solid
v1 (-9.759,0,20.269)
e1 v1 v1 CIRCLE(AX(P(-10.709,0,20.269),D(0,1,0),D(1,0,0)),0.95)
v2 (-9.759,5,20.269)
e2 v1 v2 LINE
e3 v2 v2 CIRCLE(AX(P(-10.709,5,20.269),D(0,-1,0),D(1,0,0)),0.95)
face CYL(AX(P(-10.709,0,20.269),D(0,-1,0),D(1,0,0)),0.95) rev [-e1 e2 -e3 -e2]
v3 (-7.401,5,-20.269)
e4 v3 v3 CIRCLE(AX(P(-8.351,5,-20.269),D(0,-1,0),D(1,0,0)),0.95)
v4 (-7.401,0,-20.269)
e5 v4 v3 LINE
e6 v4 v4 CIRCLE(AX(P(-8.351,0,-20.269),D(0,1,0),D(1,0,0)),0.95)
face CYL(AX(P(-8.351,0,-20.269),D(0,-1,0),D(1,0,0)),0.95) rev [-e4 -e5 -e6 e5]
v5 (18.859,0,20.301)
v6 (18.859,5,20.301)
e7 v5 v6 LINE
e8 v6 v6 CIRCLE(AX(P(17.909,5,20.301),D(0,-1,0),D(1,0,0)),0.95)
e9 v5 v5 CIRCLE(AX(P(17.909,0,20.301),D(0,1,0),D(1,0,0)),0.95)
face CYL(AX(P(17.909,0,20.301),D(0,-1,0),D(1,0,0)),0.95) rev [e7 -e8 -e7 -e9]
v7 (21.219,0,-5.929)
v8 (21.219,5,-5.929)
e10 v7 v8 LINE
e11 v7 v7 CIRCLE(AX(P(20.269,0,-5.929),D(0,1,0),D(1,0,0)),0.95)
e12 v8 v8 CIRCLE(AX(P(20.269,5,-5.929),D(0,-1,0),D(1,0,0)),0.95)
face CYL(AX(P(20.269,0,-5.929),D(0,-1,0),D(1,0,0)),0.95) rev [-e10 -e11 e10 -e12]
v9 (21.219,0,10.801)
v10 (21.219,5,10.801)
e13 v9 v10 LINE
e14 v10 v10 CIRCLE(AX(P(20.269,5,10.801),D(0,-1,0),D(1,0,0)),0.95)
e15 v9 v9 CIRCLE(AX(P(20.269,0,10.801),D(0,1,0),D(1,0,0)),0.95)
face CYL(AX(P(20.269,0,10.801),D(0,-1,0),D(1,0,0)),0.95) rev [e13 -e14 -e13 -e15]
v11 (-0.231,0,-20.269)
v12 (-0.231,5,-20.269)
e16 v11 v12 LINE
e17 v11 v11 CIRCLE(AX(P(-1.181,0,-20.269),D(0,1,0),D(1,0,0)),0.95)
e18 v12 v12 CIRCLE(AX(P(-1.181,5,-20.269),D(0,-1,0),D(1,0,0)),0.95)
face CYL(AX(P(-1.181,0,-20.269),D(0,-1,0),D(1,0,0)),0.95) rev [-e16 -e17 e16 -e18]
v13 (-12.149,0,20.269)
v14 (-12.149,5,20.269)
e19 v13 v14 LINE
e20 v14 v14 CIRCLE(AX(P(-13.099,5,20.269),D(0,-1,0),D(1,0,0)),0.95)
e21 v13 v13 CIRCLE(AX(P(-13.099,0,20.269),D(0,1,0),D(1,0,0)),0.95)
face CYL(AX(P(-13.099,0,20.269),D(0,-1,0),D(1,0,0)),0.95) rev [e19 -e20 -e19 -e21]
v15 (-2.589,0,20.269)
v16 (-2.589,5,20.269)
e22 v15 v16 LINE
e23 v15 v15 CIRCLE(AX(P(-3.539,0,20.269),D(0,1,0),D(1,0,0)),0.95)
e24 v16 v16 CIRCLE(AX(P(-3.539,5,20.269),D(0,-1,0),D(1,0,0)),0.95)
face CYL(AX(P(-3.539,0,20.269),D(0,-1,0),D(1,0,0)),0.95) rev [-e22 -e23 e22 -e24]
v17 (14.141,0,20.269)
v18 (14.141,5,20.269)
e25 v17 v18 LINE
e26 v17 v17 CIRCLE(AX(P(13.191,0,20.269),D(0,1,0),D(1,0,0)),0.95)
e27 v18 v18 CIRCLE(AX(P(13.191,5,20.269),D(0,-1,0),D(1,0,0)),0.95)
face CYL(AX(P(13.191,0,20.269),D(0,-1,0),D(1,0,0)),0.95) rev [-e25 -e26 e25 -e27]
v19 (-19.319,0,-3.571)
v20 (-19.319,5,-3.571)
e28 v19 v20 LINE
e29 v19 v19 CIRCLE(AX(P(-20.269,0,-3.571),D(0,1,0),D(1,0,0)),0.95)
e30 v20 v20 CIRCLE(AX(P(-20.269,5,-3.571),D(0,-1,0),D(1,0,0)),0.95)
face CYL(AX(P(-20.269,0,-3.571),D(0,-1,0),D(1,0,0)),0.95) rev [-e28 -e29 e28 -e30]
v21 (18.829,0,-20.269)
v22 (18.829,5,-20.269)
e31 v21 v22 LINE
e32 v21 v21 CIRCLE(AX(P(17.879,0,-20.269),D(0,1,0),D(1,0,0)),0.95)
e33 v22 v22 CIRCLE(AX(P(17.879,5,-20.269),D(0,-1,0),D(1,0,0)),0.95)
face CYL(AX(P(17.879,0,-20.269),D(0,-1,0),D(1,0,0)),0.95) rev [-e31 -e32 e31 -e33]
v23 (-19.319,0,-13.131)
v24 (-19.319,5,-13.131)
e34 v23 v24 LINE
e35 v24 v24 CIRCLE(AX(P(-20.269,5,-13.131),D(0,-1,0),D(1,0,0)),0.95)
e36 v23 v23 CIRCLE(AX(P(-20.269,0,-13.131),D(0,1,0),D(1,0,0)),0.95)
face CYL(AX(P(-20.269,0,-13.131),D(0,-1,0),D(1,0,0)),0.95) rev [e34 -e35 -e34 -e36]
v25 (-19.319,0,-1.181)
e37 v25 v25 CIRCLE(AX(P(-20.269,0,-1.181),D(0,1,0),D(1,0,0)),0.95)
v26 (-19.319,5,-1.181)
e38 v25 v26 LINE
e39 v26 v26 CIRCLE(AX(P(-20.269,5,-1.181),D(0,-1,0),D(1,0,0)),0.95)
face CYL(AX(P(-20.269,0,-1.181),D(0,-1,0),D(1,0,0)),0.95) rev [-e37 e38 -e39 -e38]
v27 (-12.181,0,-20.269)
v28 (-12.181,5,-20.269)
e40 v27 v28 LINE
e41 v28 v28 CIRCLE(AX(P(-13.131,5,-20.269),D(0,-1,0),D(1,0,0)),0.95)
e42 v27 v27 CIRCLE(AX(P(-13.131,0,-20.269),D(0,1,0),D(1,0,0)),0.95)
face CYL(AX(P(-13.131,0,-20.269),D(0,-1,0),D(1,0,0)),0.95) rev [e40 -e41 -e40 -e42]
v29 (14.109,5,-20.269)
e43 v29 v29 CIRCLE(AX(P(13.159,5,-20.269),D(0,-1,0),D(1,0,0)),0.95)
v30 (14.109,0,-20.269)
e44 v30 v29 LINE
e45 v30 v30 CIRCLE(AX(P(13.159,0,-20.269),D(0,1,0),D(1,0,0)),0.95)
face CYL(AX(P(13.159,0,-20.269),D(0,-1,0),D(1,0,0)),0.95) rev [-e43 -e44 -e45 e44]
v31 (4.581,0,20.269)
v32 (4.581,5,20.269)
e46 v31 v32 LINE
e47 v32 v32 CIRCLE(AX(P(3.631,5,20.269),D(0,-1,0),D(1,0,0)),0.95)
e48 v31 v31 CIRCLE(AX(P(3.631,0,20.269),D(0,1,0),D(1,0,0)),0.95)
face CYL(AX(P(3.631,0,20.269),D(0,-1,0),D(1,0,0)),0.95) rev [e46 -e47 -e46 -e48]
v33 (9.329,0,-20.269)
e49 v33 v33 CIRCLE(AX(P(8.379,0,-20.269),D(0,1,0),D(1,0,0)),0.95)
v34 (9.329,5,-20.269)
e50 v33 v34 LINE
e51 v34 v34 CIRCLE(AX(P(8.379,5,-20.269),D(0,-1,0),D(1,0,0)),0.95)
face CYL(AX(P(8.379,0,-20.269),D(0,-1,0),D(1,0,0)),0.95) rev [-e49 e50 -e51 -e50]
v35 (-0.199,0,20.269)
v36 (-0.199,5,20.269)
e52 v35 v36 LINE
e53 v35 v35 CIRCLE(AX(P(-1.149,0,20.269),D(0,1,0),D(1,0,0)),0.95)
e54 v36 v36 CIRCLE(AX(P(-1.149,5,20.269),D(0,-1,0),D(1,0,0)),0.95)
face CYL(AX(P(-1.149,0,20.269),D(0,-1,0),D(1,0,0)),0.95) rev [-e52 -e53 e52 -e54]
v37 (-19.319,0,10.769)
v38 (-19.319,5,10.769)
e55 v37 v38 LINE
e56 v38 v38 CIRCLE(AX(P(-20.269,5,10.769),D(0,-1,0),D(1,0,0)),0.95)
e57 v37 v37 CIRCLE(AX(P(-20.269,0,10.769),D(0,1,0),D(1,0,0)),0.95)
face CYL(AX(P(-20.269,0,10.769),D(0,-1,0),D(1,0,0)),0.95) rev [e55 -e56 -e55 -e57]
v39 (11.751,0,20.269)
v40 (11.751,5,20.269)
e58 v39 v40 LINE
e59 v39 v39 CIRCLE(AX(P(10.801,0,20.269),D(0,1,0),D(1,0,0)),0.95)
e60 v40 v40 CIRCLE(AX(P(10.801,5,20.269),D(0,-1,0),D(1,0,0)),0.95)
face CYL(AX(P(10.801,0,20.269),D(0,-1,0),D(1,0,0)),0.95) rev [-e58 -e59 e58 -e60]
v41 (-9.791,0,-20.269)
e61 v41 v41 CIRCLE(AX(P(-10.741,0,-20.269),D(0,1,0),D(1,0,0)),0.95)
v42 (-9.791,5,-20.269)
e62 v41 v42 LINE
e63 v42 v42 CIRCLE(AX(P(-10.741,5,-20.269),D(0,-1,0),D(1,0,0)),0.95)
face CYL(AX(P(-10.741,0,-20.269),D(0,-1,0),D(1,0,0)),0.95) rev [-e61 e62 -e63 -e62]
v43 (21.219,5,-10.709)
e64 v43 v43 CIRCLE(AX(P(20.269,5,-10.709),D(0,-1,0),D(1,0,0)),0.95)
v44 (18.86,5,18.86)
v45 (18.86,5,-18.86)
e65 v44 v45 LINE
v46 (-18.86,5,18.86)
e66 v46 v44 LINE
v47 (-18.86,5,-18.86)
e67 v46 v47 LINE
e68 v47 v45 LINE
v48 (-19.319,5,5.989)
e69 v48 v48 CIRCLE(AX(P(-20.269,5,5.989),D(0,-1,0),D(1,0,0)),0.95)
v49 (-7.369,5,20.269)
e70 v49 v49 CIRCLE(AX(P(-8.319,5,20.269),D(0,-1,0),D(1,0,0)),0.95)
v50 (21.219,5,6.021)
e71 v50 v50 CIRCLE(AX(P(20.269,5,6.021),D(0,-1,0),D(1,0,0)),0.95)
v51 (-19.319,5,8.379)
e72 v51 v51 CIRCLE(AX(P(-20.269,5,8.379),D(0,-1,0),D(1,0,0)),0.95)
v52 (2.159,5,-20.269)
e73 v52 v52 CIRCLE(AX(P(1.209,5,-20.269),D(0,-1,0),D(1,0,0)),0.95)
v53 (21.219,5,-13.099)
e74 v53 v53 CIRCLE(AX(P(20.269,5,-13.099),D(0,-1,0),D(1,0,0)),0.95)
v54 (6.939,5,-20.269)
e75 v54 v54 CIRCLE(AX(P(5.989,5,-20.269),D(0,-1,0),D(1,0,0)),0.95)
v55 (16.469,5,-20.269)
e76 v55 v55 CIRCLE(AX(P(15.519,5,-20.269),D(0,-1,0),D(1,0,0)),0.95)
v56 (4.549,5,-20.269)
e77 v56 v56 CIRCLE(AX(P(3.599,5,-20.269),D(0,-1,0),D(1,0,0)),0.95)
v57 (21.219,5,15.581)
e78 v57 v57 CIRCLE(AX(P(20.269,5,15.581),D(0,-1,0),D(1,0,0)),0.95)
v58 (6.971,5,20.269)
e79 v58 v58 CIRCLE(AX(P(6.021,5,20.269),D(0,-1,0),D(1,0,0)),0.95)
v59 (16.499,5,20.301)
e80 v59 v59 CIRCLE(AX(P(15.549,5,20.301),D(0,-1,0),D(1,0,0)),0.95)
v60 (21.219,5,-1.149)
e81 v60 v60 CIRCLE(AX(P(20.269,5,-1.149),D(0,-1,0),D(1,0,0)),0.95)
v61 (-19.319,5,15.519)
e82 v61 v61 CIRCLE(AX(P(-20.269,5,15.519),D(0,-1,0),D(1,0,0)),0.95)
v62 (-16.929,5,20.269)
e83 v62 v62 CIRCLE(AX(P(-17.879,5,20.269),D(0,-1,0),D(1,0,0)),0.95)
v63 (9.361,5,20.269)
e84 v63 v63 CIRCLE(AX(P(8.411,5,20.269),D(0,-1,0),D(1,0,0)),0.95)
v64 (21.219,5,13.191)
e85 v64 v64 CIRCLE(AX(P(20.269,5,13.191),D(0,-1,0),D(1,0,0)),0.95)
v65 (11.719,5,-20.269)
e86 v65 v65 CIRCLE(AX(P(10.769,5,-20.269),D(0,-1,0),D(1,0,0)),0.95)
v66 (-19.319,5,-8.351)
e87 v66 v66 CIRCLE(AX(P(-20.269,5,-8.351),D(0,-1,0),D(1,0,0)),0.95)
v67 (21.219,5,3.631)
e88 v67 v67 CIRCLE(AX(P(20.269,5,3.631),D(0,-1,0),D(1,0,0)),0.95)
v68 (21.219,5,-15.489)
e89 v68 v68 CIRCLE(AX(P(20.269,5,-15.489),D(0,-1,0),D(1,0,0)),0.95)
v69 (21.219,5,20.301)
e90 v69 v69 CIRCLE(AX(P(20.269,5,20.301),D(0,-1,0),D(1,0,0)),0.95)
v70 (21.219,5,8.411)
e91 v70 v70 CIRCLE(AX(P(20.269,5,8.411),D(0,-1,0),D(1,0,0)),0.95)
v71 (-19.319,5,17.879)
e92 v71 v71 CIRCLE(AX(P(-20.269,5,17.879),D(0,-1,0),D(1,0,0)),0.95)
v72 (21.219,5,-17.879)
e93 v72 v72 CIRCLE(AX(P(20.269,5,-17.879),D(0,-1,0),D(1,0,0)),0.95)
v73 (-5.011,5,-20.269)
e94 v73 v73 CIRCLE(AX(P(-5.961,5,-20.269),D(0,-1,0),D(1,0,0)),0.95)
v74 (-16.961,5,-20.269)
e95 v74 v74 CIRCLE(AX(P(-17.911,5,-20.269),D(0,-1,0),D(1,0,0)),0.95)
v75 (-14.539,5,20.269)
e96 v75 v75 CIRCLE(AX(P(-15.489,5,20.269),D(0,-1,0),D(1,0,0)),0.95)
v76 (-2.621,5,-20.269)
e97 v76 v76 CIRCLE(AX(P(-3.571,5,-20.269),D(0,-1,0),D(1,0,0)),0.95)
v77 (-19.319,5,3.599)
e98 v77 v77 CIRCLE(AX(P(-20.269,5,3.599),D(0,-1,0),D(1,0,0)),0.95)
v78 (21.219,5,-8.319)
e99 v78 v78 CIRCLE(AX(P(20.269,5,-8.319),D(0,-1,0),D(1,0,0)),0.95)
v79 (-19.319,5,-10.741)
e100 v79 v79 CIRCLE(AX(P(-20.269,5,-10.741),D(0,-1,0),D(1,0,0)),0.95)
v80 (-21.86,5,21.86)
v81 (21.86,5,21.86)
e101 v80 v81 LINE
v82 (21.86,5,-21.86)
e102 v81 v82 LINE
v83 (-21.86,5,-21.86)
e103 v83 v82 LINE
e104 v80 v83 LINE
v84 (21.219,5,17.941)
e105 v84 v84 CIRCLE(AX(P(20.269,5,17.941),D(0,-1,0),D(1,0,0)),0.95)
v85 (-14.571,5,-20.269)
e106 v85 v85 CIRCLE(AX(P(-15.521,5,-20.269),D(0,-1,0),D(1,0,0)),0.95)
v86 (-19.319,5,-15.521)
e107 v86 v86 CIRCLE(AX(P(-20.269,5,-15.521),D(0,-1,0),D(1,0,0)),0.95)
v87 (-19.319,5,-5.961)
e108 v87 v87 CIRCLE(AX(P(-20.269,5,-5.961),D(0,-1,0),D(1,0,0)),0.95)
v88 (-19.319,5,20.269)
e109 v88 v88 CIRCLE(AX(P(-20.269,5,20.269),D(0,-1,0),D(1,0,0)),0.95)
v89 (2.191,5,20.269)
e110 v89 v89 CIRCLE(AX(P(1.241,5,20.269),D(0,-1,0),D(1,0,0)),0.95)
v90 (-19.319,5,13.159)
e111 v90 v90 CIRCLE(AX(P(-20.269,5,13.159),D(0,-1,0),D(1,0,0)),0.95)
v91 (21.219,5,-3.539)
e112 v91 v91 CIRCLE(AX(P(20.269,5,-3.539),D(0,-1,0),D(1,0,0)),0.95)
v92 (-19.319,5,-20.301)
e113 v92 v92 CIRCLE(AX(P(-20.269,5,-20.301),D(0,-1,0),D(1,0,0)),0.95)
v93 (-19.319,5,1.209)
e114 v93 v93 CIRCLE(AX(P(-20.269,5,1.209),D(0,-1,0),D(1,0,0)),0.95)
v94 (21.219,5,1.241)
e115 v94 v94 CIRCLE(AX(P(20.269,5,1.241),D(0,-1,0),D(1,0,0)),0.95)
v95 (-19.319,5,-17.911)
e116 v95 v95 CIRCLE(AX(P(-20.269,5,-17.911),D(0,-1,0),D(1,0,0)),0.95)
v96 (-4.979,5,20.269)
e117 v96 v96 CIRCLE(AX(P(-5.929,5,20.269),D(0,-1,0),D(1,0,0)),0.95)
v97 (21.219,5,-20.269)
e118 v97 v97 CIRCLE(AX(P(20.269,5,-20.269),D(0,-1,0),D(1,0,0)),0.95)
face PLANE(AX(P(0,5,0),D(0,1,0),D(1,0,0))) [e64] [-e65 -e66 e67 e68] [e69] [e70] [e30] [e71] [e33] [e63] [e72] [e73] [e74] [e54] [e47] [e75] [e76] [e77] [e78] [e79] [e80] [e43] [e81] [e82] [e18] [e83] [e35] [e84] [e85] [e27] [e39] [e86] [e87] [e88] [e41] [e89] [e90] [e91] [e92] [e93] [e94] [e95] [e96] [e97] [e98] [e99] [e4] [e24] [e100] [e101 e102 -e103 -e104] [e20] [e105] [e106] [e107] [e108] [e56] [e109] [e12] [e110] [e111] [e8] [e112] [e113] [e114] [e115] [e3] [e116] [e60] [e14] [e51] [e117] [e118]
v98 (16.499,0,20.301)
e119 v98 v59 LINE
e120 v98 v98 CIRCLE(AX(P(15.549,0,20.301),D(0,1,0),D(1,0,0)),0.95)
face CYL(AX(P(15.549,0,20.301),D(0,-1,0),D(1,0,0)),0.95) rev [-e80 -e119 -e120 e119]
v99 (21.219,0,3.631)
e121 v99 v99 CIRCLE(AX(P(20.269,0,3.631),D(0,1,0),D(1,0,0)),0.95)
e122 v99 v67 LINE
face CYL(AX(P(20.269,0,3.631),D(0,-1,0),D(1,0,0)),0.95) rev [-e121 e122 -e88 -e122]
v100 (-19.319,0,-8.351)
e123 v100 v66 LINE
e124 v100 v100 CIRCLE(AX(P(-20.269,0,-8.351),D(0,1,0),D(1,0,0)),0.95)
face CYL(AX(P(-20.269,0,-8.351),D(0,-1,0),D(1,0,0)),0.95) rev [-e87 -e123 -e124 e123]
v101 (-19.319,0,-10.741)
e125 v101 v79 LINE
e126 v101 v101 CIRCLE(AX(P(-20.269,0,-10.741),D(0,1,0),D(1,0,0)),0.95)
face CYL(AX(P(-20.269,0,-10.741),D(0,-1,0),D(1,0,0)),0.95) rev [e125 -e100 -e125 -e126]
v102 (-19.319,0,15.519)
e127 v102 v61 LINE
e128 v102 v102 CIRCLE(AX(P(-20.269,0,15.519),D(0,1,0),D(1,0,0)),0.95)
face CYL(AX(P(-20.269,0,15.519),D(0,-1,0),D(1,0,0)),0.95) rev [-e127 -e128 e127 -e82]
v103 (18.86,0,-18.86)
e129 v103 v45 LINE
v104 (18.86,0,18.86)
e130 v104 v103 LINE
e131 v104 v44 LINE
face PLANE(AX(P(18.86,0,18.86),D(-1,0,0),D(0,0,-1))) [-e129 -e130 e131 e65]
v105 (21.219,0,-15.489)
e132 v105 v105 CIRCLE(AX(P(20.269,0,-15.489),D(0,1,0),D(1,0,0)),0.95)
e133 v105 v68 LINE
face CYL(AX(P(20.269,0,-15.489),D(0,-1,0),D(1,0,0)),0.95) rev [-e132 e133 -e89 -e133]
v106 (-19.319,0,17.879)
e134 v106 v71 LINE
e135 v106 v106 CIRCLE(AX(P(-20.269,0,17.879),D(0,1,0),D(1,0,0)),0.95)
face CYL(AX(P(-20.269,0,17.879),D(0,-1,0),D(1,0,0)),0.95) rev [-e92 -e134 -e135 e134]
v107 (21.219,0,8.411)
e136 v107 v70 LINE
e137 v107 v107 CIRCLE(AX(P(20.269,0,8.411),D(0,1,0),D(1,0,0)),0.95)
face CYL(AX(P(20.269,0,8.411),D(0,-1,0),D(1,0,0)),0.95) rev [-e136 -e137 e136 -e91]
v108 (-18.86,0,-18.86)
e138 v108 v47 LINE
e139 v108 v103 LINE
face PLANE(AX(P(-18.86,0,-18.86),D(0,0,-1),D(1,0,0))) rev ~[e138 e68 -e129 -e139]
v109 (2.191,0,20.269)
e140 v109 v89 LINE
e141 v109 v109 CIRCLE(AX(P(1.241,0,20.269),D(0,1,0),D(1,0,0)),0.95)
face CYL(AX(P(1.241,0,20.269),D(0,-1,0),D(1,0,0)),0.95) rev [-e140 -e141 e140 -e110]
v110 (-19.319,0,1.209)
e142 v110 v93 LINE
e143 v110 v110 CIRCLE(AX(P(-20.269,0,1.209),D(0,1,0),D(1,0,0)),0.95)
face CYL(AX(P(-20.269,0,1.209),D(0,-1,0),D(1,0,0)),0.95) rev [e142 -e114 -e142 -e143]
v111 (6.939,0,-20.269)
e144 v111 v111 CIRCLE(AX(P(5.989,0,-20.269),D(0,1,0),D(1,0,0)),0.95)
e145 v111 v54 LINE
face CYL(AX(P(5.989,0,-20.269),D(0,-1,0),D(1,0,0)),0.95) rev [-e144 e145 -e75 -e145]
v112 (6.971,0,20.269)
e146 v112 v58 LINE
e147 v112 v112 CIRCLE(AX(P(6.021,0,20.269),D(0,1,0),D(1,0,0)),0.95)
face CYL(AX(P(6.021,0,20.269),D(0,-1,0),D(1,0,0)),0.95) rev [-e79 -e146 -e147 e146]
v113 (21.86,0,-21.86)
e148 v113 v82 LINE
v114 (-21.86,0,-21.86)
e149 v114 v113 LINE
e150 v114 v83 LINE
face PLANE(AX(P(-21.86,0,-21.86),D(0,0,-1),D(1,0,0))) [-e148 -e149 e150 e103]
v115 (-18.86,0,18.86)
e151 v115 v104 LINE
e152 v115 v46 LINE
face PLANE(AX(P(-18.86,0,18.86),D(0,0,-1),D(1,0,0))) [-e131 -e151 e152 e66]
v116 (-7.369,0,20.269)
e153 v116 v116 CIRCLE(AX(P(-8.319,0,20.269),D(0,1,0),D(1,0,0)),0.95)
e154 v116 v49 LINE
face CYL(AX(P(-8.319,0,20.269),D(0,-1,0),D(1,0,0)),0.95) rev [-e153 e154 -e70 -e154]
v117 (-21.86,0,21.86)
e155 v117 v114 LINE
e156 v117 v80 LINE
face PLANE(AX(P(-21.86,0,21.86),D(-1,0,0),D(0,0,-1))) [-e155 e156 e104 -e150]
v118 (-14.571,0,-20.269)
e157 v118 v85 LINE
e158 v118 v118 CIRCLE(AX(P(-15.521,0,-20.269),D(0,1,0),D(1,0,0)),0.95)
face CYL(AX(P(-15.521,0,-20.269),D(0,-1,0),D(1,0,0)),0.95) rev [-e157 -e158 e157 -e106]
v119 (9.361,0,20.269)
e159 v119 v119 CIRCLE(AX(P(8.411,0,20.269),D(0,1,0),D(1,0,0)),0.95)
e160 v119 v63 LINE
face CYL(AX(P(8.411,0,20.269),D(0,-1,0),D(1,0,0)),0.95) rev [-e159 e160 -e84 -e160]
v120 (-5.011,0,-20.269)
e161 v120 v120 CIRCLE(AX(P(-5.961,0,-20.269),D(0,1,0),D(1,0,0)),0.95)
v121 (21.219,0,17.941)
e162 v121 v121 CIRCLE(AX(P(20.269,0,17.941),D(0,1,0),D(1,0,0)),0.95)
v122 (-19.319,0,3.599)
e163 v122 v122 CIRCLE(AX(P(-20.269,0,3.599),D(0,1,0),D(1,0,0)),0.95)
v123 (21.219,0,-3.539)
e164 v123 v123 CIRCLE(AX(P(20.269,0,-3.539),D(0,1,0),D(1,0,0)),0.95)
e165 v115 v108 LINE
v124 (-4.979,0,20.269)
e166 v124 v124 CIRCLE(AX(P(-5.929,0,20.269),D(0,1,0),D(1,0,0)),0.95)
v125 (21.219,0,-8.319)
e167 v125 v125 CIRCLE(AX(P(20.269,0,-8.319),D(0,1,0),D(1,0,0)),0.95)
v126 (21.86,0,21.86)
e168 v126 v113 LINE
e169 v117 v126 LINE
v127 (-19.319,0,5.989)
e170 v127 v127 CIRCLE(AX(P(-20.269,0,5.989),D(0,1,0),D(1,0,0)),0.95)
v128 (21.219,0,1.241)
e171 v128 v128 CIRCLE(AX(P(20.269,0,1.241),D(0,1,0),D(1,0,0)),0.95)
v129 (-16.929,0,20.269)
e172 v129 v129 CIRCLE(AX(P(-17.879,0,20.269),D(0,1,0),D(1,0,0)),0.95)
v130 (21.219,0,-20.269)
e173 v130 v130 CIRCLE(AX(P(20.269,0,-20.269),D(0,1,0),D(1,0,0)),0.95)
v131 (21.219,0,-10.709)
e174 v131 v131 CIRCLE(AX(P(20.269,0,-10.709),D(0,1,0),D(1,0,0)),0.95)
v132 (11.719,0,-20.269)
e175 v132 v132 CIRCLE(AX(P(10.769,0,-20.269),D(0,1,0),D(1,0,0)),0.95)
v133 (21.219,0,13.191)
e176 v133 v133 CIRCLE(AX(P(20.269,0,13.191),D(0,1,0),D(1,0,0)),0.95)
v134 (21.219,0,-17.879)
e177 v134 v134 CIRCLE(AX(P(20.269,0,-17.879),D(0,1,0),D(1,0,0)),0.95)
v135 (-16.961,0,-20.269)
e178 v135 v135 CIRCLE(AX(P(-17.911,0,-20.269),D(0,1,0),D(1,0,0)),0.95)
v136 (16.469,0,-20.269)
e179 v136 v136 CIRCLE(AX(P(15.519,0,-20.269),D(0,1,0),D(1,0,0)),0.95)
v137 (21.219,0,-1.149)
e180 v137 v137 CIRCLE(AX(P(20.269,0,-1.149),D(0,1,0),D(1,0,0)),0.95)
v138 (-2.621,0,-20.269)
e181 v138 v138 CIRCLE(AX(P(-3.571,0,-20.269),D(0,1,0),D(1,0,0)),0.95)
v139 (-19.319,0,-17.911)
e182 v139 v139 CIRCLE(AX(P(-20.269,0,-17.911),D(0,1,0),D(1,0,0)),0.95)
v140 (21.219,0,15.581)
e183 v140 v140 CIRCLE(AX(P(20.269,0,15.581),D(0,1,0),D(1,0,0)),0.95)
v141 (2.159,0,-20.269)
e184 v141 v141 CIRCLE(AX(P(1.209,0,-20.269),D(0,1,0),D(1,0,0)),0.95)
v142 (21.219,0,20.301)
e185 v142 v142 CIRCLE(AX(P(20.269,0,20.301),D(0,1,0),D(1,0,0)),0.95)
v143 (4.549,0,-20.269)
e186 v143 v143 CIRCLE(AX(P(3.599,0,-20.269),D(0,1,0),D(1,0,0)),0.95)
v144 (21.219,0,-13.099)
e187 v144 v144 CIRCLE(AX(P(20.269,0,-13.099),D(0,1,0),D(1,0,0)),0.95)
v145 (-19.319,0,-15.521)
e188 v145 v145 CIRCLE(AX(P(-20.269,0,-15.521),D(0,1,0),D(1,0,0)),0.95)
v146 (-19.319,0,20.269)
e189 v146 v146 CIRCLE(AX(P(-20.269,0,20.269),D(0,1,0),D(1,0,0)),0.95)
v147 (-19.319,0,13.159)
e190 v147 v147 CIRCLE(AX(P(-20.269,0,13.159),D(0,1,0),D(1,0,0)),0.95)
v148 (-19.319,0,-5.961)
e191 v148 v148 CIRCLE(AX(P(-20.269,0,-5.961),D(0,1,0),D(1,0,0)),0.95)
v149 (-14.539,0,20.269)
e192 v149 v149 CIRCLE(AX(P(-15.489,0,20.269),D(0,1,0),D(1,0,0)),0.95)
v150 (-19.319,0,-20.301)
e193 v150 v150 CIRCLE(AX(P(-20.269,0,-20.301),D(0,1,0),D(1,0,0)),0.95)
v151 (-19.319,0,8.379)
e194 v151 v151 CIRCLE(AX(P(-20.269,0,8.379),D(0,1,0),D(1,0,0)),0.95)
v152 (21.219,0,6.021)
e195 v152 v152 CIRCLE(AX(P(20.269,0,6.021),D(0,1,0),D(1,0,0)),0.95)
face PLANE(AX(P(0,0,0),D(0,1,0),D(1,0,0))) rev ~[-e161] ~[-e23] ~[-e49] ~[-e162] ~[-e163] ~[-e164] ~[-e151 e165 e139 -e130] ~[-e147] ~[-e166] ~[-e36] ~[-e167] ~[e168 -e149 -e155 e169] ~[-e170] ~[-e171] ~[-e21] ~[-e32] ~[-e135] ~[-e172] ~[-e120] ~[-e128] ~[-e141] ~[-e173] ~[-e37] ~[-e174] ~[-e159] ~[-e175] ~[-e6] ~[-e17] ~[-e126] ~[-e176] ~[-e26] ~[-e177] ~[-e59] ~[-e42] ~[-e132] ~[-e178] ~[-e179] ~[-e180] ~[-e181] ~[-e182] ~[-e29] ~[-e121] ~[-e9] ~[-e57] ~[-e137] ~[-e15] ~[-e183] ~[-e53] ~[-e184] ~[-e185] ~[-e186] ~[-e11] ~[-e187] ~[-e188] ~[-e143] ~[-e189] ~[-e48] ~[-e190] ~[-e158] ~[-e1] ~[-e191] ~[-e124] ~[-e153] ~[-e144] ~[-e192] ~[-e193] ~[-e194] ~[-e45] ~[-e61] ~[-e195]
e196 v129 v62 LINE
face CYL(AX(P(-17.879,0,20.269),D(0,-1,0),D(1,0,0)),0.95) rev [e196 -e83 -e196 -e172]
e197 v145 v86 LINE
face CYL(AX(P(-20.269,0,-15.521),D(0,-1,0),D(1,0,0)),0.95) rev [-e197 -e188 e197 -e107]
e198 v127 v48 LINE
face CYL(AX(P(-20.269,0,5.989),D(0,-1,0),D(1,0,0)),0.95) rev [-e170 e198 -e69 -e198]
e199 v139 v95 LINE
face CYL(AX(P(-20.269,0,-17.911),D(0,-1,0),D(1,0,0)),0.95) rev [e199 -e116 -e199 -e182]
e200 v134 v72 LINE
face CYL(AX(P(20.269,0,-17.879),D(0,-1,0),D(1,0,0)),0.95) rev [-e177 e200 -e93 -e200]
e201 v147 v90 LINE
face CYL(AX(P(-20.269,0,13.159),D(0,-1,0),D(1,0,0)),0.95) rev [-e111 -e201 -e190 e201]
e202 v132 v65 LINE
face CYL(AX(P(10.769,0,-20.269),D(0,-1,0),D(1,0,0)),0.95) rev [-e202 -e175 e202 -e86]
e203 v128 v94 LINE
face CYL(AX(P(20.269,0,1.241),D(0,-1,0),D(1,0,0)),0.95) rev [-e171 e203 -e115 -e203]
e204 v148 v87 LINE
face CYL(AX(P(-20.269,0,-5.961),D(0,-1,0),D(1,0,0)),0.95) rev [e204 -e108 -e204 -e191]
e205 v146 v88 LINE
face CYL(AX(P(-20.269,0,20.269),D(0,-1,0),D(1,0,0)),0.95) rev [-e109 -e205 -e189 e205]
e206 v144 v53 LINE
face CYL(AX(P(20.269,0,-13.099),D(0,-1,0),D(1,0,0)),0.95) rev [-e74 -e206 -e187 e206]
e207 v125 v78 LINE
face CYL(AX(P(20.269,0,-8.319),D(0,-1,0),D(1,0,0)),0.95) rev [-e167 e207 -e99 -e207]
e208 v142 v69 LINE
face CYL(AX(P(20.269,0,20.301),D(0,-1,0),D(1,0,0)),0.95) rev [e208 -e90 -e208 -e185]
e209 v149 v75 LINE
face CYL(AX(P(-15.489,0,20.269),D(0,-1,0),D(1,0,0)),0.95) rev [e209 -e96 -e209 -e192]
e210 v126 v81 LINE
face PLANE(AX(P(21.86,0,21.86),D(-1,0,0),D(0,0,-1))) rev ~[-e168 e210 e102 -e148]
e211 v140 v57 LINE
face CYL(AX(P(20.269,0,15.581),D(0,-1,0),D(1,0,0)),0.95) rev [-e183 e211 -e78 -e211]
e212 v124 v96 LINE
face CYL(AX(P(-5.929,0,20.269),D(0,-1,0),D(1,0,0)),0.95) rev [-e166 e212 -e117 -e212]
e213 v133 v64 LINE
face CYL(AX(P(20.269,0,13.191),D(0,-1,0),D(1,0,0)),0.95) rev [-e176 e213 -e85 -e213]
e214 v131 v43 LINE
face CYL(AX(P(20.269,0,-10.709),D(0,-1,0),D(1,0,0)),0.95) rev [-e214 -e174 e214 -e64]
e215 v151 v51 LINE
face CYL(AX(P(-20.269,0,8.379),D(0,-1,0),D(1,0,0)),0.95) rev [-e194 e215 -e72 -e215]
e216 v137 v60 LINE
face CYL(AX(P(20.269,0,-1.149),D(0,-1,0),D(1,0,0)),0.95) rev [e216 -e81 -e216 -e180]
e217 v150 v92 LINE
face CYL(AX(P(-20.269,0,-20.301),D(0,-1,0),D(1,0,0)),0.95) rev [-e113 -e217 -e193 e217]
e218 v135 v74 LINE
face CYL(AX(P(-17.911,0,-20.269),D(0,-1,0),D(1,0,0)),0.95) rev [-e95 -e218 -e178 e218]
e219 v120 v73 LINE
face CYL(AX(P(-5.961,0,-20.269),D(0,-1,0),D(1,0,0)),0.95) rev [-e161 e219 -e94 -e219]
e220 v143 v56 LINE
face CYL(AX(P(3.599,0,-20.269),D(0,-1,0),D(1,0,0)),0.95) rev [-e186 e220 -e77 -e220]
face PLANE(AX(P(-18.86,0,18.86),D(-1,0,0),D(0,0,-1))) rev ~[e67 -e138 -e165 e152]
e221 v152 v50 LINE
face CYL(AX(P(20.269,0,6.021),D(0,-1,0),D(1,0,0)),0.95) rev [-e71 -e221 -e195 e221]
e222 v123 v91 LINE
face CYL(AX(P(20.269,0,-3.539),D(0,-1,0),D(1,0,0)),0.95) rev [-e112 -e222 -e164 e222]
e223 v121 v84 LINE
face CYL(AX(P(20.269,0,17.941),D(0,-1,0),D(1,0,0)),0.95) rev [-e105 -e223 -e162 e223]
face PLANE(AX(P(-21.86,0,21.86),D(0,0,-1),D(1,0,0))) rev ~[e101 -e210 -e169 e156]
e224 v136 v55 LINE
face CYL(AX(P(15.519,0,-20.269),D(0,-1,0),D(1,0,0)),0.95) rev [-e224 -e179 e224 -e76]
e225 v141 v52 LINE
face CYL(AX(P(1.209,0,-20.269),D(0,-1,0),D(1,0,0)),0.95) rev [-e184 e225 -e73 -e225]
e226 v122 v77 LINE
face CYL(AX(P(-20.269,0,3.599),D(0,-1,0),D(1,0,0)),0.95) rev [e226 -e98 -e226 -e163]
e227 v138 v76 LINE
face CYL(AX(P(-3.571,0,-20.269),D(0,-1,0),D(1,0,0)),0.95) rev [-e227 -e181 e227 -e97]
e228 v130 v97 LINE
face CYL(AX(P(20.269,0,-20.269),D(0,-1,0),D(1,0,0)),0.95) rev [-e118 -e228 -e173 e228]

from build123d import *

# Parameters (mm, degrees)
SKETCH2_W           = 43.72
SKETCH2_H           = 43.72
SKETCH2_W_2         = 37.72
SKETCH2_H_2         = 37.72
BOSS_EXTRUDE1_DEPTH = 5
SKETCH1_R           = 0.95
CUT_EXTRUDE1_DEPTH  = 6


with BuildPart() as part:
    # Sketch2 → Boss-Extrude1 (new body)
    with BuildSketch(Plane(origin=(0, 0, 0), x_dir=(1, 0, 0), z_dir=(0, 1, 0))):
        Rectangle(SKETCH2_W, SKETCH2_H)
        Rectangle(SKETCH2_W_2, SKETCH2_H_2, mode=Mode.SUBTRACT)
    extrude(amount=BOSS_EXTRUDE1_DEPTH)

    # Sketch1 → Cut-Extrude1 (cut, through all)
    with BuildSketch(Plane(origin=(0, 0, 0), x_dir=(1, 0, 0), z_dir=(0, 1, 0))):
        with Locations((-20.269, -20.269)):
            Circle(SKETCH1_R)
        with Locations((-17.879, -20.269)):
            Circle(SKETCH1_R)
        with Locations((-15.489, -20.269)):
            Circle(SKETCH1_R)
        with Locations((-13.099, -20.269)):
            Circle(SKETCH1_R)
        with Locations((-10.709, -20.269)):
            Circle(SKETCH1_R)
        with Locations((-8.319, -20.269)):
            Circle(SKETCH1_R)
        with Locations((-5.929, -20.269)):
            Circle(SKETCH1_R)
        with Locations((-3.539, -20.269)):
            Circle(SKETCH1_R)
        with Locations((-1.149, -20.269)):
            Circle(SKETCH1_R)
        with Locations((1.241, -20.269)):
            Circle(SKETCH1_R)
        with Locations((3.631, -20.269)):
            Circle(SKETCH1_R)
        with Locations((6.021, -20.269)):
            Circle(SKETCH1_R)
        with Locations((8.411, -20.269)):
            Circle(SKETCH1_R)
        with Locations((10.801, -20.269)):
            Circle(SKETCH1_R)
        with Locations((13.191, -20.269)):
            Circle(SKETCH1_R)
        with Locations((20.269, 20.269)):
            Circle(SKETCH1_R)
        with Locations((20.269, -15.581)):
            Circle(SKETCH1_R)
        with Locations((20.269, -13.191)):
            Circle(SKETCH1_R)
        with Locations((20.269, -10.801)):
            Circle(SKETCH1_R)
        with Locations((20.269, -8.411)):
            Circle(SKETCH1_R)
        with Locations((20.269, -6.021)):
            Circle(SKETCH1_R)
        with Locations((20.269, -3.631)):
            Circle(SKETCH1_R)
        with Locations((20.269, -1.241)):
            Circle(SKETCH1_R)
        with Locations((20.269, 1.149)):
            Circle(SKETCH1_R)
        with Locations((20.269, 3.539)):
            Circle(SKETCH1_R)
        with Locations((20.269, 5.929)):
            Circle(SKETCH1_R)
        with Locations((20.269, 8.319)):
            Circle(SKETCH1_R)
        with Locations((20.269, 10.709)):
            Circle(SKETCH1_R)
        with Locations((20.269, 13.099)):
            Circle(SKETCH1_R)
        with Locations((20.269, 15.489)):
            Circle(SKETCH1_R)
        with Locations((20.269, 17.879)):
            Circle(SKETCH1_R)
        with Locations((13.159, 20.269)):
            Circle(SKETCH1_R)
        with Locations((10.769, 20.269)):
            Circle(SKETCH1_R)
        with Locations((8.379, 20.269)):
            Circle(SKETCH1_R)
        with Locations((5.989, 20.269)):
            Circle(SKETCH1_R)
        with Locations((3.599, 20.269)):
            Circle(SKETCH1_R)
        with Locations((1.209, 20.269)):
            Circle(SKETCH1_R)
        with Locations((-1.181, 20.269)):
            Circle(SKETCH1_R)
        with Locations((-3.571, 20.269)):
            Circle(SKETCH1_R)
        with Locations((-5.961, 20.269)):
            Circle(SKETCH1_R)
        with Locations((-8.351, 20.269)):
            Circle(SKETCH1_R)
        with Locations((-10.741, 20.269)):
            Circle(SKETCH1_R)
        with Locations((-13.131, 20.269)):
            Circle(SKETCH1_R)
        with Locations((-15.521, 20.269)):
            Circle(SKETCH1_R)
        with Locations((-17.911, 20.269)):
            Circle(SKETCH1_R)
        with Locations((-20.269, 20.301)):
            Circle(SKETCH1_R)
        with Locations((-20.269, 17.911)):
            Circle(SKETCH1_R)
        with Locations((-20.269, 15.521)):
            Circle(SKETCH1_R)
        with Locations((-20.269, 13.131)):
            Circle(SKETCH1_R)
        with Locations((-20.269, 10.741)):
            Circle(SKETCH1_R)
        with Locations((-20.269, 8.351)):
            Circle(SKETCH1_R)
        with Locations((-20.269, 5.961)):
            Circle(SKETCH1_R)
        with Locations((-20.269, 3.571)):
            Circle(SKETCH1_R)
        with Locations((-20.269, 1.181)):
            Circle(SKETCH1_R)
        with Locations((-20.269, -1.209)):
            Circle(SKETCH1_R)
        with Locations((-20.269, -3.599)):
            Circle(SKETCH1_R)
        with Locations((-20.269, -5.989)):
            Circle(SKETCH1_R)
        with Locations((-20.269, -8.379)):
            Circle(SKETCH1_R)
        with Locations((-20.269, -10.769)):
            Circle(SKETCH1_R)
        with Locations((-20.269, -13.159)):
            Circle(SKETCH1_R)
        with Locations((-20.269, -15.519)):
            Circle(SKETCH1_R)
        with Locations((-20.269, -17.879)):
            Circle(SKETCH1_R)
        with Locations((15.519, 20.269)):
            Circle(SKETCH1_R)
        with Locations((17.879, 20.269)):
            Circle(SKETCH1_R)
        with Locations((20.269, -17.941)):
            Circle(SKETCH1_R)
        with Locations((20.269, -20.301)):
            Circle(SKETCH1_R)
        with Locations((17.909, -20.301)):
            Circle(SKETCH1_R)
        with Locations((15.549, -20.301)):
            Circle(SKETCH1_R)
    extrude(amount=CUT_EXTRUDE1_DEPTH, mode=Mode.SUBTRACT)


solid = part.part
